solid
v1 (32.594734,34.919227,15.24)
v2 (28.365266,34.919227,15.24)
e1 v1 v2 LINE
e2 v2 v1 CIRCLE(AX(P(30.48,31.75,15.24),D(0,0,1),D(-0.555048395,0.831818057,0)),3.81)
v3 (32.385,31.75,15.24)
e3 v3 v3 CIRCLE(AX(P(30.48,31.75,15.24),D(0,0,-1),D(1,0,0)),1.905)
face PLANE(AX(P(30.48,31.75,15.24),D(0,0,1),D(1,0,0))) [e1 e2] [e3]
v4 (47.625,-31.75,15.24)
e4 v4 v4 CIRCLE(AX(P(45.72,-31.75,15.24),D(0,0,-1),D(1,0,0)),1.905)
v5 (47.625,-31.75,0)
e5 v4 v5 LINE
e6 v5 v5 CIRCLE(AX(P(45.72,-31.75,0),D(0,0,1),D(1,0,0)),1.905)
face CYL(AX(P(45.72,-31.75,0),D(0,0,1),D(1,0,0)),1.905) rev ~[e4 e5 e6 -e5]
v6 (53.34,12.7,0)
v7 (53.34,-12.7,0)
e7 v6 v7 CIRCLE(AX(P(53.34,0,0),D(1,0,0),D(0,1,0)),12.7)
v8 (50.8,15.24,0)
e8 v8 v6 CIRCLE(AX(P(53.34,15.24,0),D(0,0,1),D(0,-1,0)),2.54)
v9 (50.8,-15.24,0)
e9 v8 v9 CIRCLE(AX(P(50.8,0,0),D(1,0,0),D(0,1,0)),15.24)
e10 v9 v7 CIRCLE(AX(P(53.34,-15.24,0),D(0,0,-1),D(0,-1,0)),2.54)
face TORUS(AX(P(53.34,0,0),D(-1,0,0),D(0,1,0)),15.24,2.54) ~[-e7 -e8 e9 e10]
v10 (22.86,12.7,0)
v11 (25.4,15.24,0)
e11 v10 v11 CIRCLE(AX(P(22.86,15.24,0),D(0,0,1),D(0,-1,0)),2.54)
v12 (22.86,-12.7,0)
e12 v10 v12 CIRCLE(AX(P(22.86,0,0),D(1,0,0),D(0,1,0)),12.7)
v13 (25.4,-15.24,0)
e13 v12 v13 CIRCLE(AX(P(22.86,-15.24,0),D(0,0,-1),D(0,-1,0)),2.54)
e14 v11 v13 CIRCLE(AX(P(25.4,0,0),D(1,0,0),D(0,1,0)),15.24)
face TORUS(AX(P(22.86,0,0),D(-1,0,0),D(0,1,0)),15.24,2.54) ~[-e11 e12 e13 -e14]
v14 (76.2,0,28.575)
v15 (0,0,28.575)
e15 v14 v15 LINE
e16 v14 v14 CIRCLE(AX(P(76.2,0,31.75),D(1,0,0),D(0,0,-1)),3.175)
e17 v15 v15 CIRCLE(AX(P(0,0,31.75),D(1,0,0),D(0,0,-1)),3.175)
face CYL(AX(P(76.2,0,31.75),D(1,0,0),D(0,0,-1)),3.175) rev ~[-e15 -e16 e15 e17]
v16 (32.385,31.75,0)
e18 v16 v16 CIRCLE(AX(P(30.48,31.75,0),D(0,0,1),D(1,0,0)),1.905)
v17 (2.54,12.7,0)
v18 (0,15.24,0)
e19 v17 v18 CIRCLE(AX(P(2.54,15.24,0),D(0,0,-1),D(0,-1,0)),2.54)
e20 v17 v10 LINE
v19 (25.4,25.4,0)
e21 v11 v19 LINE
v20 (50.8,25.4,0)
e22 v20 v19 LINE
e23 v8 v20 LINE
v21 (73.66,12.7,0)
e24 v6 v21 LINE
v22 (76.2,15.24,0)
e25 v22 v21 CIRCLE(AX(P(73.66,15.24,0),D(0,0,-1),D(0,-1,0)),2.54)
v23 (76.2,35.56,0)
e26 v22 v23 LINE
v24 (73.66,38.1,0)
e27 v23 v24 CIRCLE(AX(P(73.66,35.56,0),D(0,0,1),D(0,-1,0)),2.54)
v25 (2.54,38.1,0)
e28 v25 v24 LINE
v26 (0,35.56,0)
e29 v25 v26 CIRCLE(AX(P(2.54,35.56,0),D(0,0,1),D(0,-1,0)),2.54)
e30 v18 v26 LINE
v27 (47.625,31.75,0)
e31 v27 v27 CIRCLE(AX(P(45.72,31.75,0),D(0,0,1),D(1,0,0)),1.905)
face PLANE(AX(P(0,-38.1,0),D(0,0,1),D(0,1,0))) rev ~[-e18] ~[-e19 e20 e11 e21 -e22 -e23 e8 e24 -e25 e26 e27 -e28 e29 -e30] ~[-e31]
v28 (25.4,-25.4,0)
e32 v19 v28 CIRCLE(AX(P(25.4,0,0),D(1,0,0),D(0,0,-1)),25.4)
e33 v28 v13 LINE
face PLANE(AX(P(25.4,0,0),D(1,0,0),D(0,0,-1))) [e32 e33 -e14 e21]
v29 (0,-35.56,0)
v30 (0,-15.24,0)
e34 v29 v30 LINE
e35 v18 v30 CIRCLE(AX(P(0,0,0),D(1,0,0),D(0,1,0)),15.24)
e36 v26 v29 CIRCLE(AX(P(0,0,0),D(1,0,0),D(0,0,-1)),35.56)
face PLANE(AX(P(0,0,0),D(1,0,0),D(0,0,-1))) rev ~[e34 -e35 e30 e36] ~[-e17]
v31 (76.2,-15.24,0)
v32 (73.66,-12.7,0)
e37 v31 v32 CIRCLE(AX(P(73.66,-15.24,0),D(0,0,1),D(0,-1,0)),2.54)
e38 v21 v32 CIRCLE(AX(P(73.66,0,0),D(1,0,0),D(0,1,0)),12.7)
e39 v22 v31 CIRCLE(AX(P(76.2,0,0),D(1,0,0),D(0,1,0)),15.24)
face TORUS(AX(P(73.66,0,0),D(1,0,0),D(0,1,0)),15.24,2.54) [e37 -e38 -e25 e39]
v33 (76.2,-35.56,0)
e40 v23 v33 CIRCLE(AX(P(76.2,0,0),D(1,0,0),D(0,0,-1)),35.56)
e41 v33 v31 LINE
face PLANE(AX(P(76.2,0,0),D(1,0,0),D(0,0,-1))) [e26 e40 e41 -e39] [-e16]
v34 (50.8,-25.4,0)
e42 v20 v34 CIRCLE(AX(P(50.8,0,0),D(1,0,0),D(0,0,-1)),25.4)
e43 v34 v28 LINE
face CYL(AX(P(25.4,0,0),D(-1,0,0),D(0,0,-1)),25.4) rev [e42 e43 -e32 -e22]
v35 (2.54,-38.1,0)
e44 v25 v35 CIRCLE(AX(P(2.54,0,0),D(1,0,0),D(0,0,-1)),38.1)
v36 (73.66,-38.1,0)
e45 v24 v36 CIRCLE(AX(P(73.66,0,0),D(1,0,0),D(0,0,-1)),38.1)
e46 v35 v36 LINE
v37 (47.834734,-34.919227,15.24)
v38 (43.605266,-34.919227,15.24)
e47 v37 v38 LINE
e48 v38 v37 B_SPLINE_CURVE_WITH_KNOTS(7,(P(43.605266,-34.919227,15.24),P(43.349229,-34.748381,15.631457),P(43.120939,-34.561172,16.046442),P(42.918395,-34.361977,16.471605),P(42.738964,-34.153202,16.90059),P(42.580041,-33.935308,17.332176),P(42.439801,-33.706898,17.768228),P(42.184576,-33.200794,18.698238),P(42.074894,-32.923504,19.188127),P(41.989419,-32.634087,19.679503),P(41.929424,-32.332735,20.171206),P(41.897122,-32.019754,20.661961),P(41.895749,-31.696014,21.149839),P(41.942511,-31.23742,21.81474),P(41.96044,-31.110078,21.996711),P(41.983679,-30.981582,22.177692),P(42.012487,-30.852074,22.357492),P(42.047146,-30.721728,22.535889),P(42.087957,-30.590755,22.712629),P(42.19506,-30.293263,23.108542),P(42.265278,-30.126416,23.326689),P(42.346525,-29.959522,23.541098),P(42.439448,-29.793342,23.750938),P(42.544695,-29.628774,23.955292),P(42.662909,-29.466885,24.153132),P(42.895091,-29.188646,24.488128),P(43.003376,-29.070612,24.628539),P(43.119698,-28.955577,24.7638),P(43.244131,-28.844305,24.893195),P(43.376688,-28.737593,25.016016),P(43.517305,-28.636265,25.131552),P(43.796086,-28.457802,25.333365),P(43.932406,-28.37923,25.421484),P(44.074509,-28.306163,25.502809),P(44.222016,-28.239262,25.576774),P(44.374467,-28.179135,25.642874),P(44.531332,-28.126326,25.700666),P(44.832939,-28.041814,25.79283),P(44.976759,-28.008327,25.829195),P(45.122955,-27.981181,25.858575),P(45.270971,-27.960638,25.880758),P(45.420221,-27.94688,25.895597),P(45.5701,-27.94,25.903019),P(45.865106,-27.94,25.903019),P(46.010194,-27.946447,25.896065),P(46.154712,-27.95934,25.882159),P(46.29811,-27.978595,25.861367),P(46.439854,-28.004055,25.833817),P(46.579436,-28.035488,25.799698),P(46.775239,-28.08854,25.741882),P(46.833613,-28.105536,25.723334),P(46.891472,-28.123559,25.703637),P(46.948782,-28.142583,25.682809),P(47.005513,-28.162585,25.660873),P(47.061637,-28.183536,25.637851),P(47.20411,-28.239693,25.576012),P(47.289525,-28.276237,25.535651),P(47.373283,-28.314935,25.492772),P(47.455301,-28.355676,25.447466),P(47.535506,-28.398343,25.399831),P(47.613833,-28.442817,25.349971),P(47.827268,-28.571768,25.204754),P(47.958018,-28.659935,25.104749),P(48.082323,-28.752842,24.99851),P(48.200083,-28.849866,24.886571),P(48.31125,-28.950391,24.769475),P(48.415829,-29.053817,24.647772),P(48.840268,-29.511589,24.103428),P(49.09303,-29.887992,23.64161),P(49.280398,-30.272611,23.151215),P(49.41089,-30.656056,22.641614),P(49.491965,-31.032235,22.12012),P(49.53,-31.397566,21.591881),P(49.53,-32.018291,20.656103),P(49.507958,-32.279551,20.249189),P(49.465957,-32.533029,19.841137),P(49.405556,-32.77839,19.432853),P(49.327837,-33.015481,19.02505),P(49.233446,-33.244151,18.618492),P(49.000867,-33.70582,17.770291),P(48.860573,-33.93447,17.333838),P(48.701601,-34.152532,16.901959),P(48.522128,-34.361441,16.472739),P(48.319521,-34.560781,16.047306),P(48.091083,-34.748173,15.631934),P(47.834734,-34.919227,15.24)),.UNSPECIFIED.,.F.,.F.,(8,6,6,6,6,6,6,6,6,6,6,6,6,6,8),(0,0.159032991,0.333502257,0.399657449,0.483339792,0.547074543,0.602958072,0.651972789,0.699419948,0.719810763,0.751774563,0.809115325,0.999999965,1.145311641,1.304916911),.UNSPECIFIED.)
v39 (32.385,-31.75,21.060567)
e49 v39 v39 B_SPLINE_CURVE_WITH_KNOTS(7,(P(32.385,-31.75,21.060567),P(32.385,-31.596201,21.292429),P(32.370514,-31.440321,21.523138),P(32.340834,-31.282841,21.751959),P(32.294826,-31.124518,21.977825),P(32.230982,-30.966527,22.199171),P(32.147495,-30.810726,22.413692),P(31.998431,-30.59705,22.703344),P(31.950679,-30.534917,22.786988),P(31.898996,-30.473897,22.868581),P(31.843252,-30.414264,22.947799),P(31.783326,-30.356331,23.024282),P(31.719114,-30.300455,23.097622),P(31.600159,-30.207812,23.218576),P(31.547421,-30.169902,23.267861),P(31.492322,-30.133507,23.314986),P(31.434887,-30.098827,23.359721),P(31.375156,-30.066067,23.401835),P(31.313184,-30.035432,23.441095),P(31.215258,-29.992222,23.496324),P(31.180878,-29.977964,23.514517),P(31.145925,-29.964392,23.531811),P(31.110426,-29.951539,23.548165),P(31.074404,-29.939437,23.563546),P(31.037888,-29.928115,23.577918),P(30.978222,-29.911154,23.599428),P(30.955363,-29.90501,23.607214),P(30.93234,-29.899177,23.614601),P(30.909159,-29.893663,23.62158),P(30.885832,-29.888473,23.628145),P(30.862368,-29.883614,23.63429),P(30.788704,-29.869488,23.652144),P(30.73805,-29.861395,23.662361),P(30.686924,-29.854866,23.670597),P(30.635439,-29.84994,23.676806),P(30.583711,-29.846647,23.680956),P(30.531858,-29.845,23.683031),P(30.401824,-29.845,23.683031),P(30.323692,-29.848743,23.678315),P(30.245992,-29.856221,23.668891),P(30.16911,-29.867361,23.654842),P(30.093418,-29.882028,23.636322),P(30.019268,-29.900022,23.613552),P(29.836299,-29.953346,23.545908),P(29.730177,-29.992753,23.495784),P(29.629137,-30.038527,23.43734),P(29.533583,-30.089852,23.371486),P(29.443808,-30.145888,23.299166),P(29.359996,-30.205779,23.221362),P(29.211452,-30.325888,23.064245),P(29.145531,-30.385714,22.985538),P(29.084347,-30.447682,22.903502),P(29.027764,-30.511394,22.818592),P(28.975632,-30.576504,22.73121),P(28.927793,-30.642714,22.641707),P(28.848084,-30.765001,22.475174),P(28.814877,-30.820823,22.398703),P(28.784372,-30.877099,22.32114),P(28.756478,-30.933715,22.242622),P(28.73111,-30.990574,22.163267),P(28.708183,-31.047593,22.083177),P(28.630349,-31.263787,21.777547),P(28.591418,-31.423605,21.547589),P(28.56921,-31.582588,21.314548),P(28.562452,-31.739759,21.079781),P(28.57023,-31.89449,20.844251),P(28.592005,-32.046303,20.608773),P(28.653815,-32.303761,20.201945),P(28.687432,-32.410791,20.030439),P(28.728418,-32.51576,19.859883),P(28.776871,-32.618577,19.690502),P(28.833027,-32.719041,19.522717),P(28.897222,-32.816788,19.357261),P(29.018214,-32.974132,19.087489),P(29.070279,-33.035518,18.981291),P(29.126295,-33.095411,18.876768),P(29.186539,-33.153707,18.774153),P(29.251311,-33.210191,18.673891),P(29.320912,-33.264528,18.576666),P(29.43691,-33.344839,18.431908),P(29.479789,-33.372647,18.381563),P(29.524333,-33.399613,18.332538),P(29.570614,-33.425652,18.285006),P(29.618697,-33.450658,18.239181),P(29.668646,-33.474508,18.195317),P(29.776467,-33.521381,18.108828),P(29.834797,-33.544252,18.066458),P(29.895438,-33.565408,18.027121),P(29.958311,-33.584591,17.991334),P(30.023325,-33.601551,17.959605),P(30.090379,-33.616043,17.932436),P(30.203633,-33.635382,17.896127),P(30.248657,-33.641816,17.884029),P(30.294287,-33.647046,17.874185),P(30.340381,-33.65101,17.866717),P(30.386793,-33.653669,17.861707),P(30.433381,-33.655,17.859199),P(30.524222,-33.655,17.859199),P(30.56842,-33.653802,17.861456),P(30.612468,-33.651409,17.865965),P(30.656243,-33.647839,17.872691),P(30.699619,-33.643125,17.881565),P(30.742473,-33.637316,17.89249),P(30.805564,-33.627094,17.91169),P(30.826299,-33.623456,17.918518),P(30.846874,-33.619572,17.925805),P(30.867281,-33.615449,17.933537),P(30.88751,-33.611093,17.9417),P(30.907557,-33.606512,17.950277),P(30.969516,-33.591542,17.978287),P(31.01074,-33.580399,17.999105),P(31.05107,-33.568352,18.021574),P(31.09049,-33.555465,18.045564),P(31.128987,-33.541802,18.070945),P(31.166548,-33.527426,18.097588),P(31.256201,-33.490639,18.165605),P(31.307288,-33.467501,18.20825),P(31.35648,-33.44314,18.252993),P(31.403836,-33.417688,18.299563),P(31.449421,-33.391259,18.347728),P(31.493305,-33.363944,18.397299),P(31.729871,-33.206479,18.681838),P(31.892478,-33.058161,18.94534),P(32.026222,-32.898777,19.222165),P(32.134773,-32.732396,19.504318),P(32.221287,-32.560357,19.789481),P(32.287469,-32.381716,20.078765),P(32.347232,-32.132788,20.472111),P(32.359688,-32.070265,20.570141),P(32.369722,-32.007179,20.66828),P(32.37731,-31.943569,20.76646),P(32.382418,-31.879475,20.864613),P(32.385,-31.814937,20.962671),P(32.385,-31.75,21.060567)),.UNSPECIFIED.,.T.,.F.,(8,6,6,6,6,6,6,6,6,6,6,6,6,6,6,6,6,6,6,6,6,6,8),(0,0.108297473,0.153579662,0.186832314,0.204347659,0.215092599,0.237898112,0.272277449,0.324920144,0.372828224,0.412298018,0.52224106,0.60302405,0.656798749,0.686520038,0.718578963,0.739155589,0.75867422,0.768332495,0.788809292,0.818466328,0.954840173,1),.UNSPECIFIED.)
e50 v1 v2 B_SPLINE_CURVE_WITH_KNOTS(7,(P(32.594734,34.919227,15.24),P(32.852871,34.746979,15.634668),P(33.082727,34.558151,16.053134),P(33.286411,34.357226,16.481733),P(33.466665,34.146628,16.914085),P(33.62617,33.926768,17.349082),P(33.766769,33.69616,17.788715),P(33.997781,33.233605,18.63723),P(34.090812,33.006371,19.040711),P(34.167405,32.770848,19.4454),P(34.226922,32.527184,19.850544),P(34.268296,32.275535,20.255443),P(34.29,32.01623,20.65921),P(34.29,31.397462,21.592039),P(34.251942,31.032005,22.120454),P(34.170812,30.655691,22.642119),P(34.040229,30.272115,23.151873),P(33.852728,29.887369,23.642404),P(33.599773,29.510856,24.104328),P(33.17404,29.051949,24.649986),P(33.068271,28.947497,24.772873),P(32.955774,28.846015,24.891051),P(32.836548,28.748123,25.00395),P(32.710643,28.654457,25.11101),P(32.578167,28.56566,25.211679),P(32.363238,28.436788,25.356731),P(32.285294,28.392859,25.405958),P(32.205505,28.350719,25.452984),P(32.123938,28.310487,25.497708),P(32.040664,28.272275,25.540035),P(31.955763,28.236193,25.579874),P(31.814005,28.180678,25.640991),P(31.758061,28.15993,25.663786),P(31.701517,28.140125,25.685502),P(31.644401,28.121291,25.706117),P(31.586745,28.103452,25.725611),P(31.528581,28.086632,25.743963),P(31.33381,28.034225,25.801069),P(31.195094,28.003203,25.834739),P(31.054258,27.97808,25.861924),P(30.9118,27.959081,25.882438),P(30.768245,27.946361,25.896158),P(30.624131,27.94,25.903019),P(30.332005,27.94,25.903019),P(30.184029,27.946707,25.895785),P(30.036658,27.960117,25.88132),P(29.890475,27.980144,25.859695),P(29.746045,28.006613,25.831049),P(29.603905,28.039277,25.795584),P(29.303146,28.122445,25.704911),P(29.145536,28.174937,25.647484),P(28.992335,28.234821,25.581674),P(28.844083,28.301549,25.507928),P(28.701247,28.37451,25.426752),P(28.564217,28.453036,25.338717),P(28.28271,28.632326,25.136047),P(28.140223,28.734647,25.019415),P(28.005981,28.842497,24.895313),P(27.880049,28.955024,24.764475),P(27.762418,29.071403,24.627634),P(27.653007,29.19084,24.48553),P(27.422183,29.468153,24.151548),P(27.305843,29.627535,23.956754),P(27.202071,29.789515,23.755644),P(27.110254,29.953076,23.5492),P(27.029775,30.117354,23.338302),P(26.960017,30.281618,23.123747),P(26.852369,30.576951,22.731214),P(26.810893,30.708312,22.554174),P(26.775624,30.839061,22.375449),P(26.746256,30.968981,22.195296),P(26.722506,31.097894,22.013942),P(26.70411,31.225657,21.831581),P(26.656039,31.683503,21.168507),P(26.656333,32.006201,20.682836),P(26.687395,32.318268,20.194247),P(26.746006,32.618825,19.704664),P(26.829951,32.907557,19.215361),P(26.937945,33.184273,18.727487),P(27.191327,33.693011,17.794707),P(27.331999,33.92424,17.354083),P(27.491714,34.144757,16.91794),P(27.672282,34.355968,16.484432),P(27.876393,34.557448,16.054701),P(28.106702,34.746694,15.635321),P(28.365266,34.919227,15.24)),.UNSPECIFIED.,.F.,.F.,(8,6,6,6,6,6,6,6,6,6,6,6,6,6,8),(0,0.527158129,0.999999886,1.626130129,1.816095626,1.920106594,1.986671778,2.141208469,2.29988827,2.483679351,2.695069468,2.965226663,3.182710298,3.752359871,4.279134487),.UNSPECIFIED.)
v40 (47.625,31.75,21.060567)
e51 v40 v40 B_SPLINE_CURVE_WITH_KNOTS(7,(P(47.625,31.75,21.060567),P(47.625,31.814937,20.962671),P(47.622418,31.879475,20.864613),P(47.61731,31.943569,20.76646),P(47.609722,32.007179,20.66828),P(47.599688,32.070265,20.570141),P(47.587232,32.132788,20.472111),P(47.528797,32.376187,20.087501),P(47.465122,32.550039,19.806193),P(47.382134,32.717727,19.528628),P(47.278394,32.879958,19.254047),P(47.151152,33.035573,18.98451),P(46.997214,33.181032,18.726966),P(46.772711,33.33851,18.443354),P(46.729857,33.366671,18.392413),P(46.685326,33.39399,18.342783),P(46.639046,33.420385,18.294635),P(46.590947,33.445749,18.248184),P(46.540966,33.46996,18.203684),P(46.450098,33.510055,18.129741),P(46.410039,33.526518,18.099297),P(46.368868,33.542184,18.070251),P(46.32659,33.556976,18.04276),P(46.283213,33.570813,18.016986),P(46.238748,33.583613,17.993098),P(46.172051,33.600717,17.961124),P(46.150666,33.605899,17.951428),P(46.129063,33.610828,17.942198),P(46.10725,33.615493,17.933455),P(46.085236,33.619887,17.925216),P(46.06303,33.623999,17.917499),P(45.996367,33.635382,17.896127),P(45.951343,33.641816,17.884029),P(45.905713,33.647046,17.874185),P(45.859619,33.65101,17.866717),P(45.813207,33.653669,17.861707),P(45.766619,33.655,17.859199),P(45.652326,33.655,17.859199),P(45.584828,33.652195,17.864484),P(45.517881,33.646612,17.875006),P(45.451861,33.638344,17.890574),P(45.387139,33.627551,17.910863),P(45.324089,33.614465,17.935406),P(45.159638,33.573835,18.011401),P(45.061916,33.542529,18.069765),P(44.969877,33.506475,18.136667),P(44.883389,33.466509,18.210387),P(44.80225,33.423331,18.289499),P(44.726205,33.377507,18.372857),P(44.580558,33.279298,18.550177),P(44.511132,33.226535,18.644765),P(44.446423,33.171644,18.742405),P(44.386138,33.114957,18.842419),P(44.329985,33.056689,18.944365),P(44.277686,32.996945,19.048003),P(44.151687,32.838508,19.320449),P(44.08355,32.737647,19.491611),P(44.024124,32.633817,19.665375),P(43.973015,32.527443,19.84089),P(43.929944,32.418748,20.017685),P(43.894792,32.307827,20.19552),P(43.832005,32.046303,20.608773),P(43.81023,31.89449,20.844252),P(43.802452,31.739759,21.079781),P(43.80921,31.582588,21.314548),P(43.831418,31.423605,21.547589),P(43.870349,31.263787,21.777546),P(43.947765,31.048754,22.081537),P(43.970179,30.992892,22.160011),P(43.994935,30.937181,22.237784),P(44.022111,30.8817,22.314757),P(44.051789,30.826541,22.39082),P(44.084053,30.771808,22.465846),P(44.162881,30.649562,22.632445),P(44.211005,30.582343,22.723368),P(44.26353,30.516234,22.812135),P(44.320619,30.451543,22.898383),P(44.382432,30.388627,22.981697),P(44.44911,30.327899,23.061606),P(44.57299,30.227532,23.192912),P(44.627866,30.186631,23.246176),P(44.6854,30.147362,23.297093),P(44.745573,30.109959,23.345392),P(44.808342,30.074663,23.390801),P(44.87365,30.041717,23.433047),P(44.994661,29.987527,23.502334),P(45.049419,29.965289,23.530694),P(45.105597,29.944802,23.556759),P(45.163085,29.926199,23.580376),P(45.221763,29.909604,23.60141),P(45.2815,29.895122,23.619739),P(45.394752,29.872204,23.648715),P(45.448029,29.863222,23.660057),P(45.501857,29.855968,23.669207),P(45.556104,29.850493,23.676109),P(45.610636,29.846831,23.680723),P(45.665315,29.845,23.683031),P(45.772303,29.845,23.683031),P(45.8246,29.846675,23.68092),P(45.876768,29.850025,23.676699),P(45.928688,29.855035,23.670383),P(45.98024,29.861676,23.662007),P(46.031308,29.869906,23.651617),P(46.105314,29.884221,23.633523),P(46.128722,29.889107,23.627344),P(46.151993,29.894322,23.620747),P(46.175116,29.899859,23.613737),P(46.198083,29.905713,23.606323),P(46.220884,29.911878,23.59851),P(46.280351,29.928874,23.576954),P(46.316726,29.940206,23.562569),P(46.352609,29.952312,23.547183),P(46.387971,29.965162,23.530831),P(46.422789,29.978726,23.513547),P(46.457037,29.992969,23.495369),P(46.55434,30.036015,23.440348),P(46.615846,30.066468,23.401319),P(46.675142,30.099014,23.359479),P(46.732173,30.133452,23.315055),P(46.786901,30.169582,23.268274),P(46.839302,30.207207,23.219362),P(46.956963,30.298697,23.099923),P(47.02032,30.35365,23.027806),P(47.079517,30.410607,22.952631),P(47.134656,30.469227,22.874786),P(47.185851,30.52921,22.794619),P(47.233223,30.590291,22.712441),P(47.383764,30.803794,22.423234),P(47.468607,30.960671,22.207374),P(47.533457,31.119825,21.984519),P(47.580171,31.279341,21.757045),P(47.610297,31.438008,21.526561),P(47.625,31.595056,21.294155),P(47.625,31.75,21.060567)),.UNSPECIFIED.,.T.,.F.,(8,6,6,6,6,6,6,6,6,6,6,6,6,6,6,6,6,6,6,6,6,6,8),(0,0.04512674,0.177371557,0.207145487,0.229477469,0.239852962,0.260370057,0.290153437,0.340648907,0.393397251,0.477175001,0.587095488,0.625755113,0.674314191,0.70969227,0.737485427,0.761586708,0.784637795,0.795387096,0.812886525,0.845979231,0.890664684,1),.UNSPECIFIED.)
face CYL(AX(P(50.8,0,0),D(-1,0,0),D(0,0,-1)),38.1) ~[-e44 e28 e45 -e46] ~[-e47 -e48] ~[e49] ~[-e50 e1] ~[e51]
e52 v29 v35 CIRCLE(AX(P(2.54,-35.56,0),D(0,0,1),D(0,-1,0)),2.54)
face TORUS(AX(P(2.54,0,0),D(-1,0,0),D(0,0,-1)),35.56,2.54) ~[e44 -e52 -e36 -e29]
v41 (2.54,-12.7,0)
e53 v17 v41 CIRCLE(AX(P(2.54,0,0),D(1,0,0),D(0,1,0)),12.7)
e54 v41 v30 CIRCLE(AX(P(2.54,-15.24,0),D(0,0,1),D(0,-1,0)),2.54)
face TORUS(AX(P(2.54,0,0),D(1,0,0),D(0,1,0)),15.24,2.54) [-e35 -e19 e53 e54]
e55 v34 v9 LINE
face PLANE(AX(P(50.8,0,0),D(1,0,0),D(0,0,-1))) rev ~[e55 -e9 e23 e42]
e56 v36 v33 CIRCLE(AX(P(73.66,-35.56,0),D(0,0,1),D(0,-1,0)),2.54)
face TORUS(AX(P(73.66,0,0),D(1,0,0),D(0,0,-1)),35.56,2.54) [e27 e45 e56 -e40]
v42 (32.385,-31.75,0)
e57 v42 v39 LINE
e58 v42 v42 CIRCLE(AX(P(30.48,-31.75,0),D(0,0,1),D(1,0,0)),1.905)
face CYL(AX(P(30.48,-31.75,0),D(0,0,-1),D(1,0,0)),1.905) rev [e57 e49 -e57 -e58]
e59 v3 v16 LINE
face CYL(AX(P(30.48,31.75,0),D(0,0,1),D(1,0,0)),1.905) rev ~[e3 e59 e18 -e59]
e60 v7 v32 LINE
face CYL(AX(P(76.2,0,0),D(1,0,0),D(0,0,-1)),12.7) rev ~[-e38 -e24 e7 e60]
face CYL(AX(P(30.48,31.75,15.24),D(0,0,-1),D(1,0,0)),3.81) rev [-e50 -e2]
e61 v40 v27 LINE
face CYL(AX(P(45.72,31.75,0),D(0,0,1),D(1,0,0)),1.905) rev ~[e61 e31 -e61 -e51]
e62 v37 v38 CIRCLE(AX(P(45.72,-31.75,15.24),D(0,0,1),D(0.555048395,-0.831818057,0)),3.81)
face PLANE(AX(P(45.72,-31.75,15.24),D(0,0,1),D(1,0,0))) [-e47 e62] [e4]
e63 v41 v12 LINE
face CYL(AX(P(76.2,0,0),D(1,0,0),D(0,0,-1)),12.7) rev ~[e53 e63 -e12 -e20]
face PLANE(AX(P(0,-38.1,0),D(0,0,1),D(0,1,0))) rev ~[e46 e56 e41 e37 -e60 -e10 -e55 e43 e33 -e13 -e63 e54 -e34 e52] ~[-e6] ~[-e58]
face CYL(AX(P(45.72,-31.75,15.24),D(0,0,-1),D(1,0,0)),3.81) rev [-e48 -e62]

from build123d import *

# Parameters (mm, degrees)
SKETCH1_R               = 38.1
BOSS_EXTRUDE1_DEPTH     = 25.4
SKETCH2_R               = 38.1
SKETCH2_R_2             = 25.4
BOSS_EXTRUDE2_DEPTH     = 25.4
SKETCH3_R               = 38.1
BOSS_EXTRUDE3_DEPTH     = 25.4
SKETCH4_R               = 12.7
CUT_EXTRUDE1_DEPTH      = 77.2
FILLET1_R               = 2.54
SKETCH6_R               = 1.905
CUT_EXTRUDE2_DEPTH      = 39.1000001
CUT_EXTRUDE2_DEPTH_BACK = 39.1000001
SKETCH7_R               = 3.81
CUT_EXTRUDE3_DEPTH      = 25.4
SKETCH8_R               = 3.81
CUT_EXTRUDE4_DEPTH      = 25.4
CUT_EXTRUDE5_REACH      = 78.2
SKETCH9_W               = 50.8
SKETCH9_H               = 76.2
FILLET2_R               = 2.54
SKETCH10_R              = 3.175
CUT_EXTRUDE6_DEPTH      = 77.2
FILLET3_R               = 2.54


with BuildPart() as part:
    # Sketch1 → Boss-Extrude1 (new body)
    with BuildSketch(Plane(origin=(0, 0, 0), x_dir=(0, 0, -1), z_dir=(1, 0, 0))):
        Circle(SKETCH1_R)
    extrude(amount=BOSS_EXTRUDE1_DEPTH)

    # Sketch2 → Boss-Extrude2 (add)
    with BuildSketch(Plane(origin=(25.4, 0, 0), x_dir=(0, 0, -1), z_dir=(1, 0, 0))):
        Circle(SKETCH2_R)
        Circle(SKETCH2_R_2, mode=Mode.SUBTRACT)
    extrude(amount=BOSS_EXTRUDE2_DEPTH)

    # Sketch3 → Boss-Extrude3 (add)
    with BuildSketch(Plane(origin=(50.8, 0, 0), x_dir=(0, 0, -1), z_dir=(1, 0, 0))):
        Circle(SKETCH3_R)
    extrude(amount=BOSS_EXTRUDE3_DEPTH)

    # Sketch4 → Cut-Extrude1 (cut, through all)
    with BuildSketch(Plane(origin=(76.2, 0, 0), x_dir=(0, 0, -1), z_dir=(1, 0, 0))):
        Circle(SKETCH4_R)
    extrude(amount=-CUT_EXTRUDE1_DEPTH, mode=Mode.SUBTRACT)

    # Fillet1
    fillet1_edges = [part.edges().sort_by_distance(p)[0] for p in [
        (76.2, 0, 38.1),
        (0, 0, 38.1),
    ]]
    fillet(fillet1_edges, radius=FILLET1_R)

    # Sketch6 → Cut-Extrude2 (cut, two sides)
    with BuildSketch(Plane.XY) as cut_extrude2_sk:
        with Locations((30.48, 31.75)):
            Circle(SKETCH6_R)
        with Locations((45.72, 31.75)):
            Circle(SKETCH6_R)
        with Locations((30.48, -31.75)):
            Circle(SKETCH6_R)
        with Locations((45.72, -31.75)):
            Circle(SKETCH6_R)
    extrude(amount=CUT_EXTRUDE2_DEPTH, mode=Mode.SUBTRACT)
    extrude(cut_extrude2_sk.sketch, amount=-CUT_EXTRUDE2_DEPTH_BACK, mode=Mode.SUBTRACT)

    # Sketch7 → Cut-Extrude3 (cut)
    with BuildSketch(Plane.XY.offset(15.24)):
        with Locations((30.48, 31.75)):
            Circle(SKETCH7_R)
        with Locations((45.72, -31.75)):
            Circle(SKETCH7_R)
    extrude(amount=CUT_EXTRUDE3_DEPTH, mode=Mode.SUBTRACT)

    # Sketch8 → Cut-Extrude4 (cut)
    with BuildSketch(Plane.XY.offset(-15.24)):
        with Locations((45.72, 31.75)):
            Circle(SKETCH8_R)
        with Locations((30.48, -31.75)):
            Circle(SKETCH8_R)
    extrude(amount=-CUT_EXTRUDE4_DEPTH, mode=Mode.SUBTRACT)

    # Sketch9 → Cut-Extrude5 (cut, up to next)
    with BuildSketch(Plane.ZY, mode=Mode.PRIVATE) as cut_extrude5_sk1:
        with Locations((-25.4, 0)):
            Rectangle(SKETCH9_W, SKETCH9_H)
    cut_extrude5_tool1 = extrude(cut_extrude5_sk1.sketch, amount=-CUT_EXTRUDE5_REACH, mode=Mode.PRIVATE) & part.part
    add(cut_extrude5_tool1.solids().sort_by_distance((0, 0, -25.4))[0], mode=Mode.SUBTRACT)

    # Fillet2
    fillet2_edges = [part.edges().sort_by_distance(p)[0] for p in [
        (25.4, 0, 12.7),
        (50.8, 0, 12.7),
    ]]
    fillet(fillet2_edges, radius=FILLET2_R)

    # Sketch10 → Cut-Extrude6 (cut, through all)
    with BuildSketch(Plane(origin=(76.2, 0, 0), x_dir=(0, 0, -1), z_dir=(1, 0, 0))):
        with Locations((-31.75, 0)):
            Circle(SKETCH10_R)
    extrude(amount=-CUT_EXTRUDE6_DEPTH, mode=Mode.SUBTRACT)

    # Fillet3
    fillet3_edges = [part.edges().sort_by_distance(p)[0] for p in [
        (0, 0, 12.7),
        (76.2, 0, 12.7),
    ]]
    fillet(fillet3_edges, radius=FILLET3_R)


solid = part.part
